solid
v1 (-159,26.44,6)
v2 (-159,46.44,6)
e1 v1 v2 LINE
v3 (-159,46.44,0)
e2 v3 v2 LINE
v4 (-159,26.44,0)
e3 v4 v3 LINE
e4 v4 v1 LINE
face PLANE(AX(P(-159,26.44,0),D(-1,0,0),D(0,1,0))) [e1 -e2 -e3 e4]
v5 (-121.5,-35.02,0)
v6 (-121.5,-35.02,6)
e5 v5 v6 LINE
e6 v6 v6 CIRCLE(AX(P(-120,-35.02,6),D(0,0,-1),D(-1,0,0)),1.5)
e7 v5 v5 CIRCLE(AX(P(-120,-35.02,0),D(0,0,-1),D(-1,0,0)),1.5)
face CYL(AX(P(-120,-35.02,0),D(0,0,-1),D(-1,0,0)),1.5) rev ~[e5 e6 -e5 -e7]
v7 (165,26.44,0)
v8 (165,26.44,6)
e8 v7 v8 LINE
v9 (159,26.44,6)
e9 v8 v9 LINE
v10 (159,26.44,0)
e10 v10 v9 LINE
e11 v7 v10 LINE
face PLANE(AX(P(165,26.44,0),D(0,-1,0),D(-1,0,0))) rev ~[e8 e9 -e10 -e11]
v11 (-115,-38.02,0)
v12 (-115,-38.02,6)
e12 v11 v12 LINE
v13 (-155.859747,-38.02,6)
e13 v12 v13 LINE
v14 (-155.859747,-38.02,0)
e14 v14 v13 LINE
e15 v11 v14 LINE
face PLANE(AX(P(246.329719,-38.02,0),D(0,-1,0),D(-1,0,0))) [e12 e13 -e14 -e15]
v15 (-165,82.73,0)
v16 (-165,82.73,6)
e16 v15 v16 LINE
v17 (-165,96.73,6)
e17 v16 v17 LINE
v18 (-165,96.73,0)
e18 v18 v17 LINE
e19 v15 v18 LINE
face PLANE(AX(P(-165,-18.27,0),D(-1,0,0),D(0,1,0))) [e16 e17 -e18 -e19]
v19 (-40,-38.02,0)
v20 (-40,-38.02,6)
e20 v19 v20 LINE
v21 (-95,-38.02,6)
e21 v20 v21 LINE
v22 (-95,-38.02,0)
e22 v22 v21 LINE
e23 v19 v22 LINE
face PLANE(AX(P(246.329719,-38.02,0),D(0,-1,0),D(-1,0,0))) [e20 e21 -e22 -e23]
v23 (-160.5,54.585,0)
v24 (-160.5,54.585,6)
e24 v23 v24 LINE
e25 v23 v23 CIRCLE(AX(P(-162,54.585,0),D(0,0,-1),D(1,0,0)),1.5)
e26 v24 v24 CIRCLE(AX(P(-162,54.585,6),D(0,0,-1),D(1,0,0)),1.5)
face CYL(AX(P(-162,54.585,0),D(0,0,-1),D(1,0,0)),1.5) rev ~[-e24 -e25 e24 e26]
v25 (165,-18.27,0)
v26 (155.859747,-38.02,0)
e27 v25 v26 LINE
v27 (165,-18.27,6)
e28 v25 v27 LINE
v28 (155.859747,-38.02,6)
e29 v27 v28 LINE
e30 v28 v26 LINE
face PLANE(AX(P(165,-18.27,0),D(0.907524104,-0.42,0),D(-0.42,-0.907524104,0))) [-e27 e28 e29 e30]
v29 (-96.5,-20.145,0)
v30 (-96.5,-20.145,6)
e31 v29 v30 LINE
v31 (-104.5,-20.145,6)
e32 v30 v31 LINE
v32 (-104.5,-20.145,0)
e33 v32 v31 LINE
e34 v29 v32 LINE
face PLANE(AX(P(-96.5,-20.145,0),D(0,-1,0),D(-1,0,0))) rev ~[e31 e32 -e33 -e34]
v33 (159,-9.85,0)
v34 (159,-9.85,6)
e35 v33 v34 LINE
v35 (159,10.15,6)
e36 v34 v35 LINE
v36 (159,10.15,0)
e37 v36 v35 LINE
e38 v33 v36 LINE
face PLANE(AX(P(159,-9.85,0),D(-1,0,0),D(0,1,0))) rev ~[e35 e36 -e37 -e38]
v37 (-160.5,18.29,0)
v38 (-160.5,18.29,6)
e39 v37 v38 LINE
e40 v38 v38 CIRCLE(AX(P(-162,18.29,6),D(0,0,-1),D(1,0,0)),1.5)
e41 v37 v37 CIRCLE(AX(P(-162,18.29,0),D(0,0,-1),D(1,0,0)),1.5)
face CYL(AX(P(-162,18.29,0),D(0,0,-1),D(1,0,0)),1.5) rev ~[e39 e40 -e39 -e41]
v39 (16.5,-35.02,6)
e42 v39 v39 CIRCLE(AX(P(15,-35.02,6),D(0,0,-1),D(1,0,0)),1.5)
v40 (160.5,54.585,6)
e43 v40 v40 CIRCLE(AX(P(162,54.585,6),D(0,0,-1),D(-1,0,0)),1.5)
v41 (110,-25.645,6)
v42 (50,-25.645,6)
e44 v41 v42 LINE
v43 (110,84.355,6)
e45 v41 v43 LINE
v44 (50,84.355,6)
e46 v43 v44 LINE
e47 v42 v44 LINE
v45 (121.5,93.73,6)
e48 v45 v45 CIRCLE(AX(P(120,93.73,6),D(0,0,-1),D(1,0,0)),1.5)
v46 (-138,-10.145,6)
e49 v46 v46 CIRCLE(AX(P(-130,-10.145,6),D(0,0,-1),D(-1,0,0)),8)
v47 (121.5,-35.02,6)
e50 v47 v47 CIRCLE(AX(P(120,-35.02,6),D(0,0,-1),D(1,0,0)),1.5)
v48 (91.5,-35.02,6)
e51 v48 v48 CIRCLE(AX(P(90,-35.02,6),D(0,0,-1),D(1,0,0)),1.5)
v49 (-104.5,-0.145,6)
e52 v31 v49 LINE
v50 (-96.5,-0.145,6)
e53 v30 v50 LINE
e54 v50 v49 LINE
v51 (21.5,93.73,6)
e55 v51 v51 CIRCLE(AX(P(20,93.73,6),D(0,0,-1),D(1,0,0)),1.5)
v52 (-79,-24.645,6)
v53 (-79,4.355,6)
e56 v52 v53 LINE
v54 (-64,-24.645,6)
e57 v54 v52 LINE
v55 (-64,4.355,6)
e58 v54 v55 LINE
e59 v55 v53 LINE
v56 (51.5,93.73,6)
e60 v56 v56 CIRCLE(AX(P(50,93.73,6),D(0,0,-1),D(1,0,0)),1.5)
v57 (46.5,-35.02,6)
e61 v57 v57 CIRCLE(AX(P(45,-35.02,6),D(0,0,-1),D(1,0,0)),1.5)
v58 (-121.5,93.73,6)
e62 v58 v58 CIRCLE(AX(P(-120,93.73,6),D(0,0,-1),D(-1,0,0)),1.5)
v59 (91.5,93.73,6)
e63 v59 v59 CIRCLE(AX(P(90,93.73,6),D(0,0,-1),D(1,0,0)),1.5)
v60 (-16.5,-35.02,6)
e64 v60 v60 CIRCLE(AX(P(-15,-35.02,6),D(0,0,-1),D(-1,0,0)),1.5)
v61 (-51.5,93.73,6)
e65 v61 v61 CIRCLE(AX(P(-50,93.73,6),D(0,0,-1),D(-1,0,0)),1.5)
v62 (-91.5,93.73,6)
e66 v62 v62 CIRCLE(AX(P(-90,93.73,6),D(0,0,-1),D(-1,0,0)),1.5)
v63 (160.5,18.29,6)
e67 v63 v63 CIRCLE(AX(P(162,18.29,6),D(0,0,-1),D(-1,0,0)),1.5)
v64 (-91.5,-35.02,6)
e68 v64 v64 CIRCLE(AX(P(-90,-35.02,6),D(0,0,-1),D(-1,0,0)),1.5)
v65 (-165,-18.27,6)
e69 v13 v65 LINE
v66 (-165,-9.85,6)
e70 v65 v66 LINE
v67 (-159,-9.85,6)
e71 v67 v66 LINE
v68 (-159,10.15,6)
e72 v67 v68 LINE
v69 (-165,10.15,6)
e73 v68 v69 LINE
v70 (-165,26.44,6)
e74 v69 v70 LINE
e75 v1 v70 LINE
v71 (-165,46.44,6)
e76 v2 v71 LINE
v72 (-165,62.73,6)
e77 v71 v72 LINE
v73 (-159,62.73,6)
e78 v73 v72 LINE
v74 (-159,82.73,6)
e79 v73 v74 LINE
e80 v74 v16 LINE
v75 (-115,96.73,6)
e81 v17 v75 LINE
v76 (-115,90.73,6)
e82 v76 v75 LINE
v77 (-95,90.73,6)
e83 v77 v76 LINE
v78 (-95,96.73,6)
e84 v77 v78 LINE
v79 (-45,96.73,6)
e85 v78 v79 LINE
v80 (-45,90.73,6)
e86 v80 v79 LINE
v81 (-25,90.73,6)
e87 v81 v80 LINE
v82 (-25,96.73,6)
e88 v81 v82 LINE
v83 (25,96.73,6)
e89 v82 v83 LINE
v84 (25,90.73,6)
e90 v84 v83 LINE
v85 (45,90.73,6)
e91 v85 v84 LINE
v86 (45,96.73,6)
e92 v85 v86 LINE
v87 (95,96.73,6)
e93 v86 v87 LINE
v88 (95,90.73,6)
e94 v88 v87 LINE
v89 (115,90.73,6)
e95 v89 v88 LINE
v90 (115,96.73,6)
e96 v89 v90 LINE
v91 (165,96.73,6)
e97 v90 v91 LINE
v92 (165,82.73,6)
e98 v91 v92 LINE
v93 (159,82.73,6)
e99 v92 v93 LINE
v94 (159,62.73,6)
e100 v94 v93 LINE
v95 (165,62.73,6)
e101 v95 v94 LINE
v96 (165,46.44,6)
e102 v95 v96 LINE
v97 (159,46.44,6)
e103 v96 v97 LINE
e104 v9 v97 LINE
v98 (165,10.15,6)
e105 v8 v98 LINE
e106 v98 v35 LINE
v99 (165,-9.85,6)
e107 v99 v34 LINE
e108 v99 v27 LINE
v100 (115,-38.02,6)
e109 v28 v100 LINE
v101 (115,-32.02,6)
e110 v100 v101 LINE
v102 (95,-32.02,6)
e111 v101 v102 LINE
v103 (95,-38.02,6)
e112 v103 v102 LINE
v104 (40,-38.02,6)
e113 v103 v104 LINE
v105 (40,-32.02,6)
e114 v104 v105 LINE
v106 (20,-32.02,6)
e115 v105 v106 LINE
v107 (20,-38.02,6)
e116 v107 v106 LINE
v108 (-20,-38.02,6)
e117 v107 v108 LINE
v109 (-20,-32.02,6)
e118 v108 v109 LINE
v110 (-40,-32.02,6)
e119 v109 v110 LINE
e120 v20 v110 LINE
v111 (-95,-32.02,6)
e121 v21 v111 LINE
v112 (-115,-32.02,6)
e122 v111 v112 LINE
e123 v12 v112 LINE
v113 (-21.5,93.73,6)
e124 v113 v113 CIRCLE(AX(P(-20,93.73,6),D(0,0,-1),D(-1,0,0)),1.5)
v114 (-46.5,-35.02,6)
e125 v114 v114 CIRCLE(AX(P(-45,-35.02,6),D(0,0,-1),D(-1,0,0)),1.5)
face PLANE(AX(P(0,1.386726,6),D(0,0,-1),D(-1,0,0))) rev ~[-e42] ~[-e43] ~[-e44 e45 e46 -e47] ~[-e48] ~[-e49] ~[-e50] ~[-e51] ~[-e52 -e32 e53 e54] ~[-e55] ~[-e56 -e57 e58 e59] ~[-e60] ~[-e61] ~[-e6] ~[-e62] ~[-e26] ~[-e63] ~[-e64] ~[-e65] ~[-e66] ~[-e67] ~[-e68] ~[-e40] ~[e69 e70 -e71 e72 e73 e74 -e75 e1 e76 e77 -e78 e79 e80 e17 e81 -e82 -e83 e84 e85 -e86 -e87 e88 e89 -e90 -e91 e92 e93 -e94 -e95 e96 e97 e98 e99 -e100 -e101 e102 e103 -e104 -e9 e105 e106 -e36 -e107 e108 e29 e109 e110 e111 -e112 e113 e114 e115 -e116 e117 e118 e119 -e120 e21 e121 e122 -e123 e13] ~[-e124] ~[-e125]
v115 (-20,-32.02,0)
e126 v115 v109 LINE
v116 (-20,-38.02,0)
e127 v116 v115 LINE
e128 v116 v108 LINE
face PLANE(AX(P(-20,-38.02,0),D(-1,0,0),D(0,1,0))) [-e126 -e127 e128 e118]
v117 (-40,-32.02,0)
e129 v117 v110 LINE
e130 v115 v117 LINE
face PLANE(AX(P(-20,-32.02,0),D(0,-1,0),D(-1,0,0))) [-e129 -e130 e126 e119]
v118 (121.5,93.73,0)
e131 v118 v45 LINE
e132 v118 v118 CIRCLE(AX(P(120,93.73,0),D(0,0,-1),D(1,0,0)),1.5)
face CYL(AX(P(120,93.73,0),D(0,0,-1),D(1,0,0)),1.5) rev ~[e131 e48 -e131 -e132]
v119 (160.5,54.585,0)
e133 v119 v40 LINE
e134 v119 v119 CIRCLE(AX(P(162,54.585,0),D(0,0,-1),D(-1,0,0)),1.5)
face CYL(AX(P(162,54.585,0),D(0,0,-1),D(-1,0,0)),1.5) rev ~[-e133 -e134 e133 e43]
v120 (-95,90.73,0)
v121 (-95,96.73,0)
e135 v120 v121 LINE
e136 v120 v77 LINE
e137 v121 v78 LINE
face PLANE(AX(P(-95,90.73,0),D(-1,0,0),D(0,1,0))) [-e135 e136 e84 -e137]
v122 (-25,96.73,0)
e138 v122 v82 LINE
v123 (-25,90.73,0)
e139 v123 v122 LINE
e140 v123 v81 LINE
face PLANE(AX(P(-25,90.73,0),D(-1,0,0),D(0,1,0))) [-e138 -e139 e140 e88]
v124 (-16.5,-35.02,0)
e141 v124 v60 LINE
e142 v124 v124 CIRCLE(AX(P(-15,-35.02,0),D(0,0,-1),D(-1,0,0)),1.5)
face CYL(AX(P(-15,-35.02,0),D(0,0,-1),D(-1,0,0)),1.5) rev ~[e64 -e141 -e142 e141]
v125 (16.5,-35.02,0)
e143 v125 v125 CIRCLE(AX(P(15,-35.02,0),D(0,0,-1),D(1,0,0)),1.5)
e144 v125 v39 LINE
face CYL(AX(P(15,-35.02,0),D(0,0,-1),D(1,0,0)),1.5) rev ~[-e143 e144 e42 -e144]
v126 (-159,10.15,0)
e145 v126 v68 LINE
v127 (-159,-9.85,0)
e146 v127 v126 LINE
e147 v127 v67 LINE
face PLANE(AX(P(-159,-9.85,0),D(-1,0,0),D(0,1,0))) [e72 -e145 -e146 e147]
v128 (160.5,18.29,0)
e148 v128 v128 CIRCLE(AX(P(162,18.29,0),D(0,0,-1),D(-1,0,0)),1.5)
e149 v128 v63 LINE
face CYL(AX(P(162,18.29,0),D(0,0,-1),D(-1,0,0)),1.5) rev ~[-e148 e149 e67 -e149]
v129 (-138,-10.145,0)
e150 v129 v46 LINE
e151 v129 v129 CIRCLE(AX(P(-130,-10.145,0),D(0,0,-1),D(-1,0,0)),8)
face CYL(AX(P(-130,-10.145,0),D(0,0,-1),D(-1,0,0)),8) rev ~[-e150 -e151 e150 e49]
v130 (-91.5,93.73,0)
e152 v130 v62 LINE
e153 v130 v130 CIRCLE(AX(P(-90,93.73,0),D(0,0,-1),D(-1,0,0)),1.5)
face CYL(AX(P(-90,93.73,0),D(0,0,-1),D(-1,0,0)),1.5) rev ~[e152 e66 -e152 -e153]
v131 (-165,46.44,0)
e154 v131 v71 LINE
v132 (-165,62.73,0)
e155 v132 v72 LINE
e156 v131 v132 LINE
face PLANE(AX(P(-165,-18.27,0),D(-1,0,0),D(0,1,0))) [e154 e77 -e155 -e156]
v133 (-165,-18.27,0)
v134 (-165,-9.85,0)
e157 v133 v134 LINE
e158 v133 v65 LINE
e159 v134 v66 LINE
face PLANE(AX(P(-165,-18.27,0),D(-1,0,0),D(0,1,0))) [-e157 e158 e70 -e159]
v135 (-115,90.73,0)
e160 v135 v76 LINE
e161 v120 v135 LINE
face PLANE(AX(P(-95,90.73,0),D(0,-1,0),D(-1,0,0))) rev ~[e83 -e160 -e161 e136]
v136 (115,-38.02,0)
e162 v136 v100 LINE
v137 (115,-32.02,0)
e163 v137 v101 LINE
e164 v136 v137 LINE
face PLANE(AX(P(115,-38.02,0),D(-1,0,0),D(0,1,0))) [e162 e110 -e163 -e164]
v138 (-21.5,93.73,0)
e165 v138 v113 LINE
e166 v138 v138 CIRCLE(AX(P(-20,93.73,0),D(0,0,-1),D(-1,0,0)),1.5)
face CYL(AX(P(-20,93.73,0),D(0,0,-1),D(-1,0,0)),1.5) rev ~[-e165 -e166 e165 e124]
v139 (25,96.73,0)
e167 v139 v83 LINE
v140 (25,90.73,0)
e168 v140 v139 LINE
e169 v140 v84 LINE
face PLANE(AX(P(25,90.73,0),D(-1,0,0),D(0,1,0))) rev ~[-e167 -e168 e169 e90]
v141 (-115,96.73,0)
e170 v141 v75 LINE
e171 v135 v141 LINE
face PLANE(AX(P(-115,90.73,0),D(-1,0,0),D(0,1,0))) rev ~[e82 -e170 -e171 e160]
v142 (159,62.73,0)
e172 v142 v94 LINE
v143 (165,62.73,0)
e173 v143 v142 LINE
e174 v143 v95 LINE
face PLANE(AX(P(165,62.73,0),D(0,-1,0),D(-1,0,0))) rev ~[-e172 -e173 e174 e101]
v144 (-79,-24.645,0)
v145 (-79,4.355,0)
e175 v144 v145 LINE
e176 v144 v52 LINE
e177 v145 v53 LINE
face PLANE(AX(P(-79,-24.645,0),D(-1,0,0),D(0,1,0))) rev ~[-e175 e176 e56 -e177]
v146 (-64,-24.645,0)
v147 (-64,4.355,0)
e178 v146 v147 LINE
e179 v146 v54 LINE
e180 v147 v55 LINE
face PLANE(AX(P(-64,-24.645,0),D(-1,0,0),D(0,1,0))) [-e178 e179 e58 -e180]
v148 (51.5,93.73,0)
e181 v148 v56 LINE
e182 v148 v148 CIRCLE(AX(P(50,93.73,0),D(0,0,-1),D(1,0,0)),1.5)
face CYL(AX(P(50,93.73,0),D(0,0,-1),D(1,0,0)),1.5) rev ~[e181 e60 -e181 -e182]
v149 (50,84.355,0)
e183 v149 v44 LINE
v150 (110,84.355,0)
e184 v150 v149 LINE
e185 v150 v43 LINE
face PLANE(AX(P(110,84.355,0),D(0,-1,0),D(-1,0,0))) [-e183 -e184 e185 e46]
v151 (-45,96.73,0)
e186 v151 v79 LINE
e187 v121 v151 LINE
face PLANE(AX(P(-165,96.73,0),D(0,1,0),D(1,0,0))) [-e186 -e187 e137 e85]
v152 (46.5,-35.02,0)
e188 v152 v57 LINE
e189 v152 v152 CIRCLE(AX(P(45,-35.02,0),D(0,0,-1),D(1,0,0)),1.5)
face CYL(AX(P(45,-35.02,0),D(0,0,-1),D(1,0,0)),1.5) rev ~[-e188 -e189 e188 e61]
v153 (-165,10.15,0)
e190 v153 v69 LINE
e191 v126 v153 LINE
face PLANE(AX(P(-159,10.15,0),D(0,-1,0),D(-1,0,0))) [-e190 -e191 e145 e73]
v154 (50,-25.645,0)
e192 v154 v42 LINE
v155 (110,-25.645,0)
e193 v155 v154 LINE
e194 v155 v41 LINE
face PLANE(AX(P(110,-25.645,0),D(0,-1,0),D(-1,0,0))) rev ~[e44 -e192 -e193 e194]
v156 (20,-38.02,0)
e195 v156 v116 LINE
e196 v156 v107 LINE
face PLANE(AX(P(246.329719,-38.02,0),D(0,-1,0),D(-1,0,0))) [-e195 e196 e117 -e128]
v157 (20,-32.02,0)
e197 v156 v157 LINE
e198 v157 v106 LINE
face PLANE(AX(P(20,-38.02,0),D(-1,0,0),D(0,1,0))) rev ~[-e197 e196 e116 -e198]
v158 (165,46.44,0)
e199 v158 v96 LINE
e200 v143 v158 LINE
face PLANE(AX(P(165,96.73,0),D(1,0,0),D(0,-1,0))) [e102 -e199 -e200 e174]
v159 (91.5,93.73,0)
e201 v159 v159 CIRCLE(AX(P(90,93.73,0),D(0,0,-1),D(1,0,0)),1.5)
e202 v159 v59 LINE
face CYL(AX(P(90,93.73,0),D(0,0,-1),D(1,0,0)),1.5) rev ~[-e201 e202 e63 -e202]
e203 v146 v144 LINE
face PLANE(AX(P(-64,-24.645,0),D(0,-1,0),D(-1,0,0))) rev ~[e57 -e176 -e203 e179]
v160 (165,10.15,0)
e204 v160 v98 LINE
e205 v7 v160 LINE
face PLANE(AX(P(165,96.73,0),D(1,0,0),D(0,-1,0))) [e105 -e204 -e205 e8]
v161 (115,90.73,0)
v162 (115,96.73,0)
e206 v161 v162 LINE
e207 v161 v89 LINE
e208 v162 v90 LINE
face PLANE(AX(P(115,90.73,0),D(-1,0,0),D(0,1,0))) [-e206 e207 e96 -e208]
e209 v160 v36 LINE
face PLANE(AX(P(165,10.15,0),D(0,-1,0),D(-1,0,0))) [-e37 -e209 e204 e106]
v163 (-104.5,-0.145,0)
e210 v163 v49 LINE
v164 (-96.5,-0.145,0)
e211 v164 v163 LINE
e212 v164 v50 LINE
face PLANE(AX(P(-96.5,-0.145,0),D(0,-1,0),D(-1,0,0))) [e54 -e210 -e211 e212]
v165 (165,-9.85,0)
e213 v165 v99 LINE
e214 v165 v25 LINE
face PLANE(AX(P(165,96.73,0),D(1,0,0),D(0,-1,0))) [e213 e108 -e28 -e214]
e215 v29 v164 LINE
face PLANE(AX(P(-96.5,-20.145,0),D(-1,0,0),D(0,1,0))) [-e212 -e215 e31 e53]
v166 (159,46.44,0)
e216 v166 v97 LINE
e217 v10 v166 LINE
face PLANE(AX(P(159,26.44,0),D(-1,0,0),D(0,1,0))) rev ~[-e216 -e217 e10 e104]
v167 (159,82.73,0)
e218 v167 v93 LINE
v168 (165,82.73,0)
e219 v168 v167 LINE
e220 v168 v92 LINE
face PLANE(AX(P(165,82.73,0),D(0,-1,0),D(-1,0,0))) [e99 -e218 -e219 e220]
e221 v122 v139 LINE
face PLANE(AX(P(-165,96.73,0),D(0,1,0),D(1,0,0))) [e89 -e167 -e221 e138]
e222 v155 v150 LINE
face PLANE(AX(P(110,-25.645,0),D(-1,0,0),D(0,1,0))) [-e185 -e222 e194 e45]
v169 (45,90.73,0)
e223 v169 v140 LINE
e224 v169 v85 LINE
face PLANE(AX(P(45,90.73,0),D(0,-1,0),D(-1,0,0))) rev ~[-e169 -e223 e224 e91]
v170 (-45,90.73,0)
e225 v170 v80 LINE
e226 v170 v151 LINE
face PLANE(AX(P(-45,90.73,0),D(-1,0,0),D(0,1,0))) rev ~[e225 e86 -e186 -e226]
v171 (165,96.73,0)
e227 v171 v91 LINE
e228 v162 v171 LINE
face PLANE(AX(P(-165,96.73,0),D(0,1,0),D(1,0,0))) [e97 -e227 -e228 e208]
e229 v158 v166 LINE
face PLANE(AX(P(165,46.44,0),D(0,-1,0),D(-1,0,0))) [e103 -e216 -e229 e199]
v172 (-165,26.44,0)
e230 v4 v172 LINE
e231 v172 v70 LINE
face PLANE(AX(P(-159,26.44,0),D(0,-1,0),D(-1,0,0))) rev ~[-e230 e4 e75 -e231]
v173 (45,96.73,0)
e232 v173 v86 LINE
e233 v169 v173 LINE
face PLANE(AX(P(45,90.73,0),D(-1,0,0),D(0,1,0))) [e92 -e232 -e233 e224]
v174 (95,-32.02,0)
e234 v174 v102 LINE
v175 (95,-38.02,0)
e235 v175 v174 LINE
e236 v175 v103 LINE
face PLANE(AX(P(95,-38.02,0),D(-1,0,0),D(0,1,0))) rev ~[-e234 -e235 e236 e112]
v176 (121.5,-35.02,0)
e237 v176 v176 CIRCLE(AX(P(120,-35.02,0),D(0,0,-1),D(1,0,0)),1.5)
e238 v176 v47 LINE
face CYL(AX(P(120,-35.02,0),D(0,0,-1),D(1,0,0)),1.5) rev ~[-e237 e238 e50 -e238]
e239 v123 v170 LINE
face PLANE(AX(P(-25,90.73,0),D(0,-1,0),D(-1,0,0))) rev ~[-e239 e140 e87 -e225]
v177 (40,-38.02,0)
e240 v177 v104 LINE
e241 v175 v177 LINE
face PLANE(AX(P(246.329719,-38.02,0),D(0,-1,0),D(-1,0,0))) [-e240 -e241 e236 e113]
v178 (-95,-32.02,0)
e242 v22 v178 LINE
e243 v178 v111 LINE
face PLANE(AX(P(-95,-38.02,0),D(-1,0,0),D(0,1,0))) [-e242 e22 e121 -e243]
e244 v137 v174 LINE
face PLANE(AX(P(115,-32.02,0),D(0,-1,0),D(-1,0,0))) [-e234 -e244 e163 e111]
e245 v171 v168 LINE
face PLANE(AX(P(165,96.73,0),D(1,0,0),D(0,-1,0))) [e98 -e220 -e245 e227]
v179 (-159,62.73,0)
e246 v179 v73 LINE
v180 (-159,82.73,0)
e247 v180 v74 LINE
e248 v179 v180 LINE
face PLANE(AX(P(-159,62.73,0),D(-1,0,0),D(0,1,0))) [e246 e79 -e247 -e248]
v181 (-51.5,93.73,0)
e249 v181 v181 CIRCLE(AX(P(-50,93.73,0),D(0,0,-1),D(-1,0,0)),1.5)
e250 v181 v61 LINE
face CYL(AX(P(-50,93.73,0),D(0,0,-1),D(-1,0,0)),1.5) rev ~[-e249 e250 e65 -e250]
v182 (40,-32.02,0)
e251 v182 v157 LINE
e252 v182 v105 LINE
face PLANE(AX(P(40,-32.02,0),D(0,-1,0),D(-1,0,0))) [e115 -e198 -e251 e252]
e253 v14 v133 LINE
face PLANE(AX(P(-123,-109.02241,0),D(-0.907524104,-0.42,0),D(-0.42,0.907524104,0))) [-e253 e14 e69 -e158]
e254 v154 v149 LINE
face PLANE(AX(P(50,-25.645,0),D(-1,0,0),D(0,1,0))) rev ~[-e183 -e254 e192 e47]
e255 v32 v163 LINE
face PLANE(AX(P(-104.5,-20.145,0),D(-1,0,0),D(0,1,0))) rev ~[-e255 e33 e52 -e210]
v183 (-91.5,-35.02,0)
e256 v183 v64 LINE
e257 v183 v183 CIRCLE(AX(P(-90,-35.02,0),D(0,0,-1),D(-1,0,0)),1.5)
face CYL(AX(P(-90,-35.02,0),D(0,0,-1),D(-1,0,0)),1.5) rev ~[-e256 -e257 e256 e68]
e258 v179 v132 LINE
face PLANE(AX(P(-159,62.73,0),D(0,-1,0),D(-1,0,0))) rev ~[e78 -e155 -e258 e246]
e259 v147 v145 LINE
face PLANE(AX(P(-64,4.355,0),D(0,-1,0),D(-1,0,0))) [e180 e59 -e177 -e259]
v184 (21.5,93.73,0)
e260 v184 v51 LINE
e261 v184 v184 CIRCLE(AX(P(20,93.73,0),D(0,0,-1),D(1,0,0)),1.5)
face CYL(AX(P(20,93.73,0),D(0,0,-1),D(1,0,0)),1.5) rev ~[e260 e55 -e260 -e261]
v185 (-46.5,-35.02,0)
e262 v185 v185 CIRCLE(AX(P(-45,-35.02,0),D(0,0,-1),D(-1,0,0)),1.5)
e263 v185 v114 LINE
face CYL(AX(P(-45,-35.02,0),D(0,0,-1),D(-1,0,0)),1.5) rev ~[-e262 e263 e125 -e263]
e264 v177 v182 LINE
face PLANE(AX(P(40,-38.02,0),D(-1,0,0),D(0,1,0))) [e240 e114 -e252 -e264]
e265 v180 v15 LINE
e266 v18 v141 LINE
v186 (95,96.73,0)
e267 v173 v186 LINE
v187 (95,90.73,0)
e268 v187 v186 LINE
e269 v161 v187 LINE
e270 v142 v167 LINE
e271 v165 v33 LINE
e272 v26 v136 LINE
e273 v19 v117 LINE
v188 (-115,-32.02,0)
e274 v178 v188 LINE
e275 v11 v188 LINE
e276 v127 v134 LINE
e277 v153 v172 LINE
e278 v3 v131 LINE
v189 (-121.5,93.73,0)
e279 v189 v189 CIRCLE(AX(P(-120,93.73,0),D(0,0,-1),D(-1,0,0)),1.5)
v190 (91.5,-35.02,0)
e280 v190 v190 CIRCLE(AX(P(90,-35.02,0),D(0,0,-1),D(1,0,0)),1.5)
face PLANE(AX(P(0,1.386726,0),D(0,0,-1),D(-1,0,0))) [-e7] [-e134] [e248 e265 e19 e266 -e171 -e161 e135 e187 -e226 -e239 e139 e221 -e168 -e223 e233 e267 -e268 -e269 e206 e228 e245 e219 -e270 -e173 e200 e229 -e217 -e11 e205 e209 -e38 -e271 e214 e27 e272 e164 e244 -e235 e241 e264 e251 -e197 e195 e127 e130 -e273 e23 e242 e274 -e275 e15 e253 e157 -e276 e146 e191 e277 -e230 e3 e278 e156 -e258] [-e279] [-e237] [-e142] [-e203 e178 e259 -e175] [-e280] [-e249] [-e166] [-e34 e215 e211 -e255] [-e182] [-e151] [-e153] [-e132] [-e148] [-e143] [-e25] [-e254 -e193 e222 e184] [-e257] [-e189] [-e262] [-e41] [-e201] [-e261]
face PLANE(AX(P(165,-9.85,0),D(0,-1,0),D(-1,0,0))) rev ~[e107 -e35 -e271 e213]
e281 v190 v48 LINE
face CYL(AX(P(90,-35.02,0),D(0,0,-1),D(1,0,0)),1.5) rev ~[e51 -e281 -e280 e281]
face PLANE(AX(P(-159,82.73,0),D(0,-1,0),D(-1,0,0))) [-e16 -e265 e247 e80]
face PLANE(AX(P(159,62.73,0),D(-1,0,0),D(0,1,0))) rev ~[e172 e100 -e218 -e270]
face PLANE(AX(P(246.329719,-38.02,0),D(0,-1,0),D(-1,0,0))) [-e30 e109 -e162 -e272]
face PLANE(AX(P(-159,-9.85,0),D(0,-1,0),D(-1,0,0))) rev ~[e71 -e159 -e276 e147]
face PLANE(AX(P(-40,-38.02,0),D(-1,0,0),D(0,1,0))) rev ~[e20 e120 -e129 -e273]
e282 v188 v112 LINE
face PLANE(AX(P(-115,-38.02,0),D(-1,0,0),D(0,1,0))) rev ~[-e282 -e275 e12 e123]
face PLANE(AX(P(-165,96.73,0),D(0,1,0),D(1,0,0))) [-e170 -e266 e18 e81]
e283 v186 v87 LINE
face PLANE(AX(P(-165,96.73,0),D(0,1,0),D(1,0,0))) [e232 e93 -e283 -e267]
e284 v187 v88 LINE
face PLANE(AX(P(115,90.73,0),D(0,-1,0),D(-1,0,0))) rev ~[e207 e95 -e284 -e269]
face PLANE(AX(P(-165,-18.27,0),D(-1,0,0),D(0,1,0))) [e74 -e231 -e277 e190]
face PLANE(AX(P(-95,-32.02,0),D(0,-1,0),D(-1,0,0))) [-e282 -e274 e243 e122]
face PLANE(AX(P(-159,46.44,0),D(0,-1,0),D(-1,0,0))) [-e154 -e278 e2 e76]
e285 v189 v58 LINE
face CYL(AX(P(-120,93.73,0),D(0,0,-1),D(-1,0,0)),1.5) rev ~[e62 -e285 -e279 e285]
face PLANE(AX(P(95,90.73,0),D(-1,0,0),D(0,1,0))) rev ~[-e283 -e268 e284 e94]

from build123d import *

# Parameters (mm, degrees)
BOSS_EXTRU_1_DEPTH      = 6
ESQUISSE3_R             = 8
ESQUISSE3_W             = 6
ESQUISSE3_H             = 20
ESQUISSE3_W_2           = 20
ESQUISSE3_H_2           = 6
ESQUISSE3_W_3           = 60
ESQUISSE3_H_3           = 110
ESQUISSE3_W_4           = 8
ESQUISSE3_W_5           = 15
ESQUISSE3_H_4           = 29
ENL_V_MAT_EXTRU_2_DEPTH = 6
ESQUISSE4_R             = 1.5
ENL_V_MAT_EXTRU_3_DEPTH = 6
ESQUISSE5_W             = 456.045253014
ESQUISSE5_H             = 136.228984631
ENL_V_MAT_EXTRU_4_DEPTH = 6


with BuildPart() as part:
    # Esquisse1 → Boss.-Extru.1 (new body)
    with BuildSketch(Plane.XY):
        Polygon((-165, 96.73), (165, 96.73), (165, -18.27), (123, -109.022410436), (-123, -109.022410436), (-165, -18.27), align=None)
    extrude(amount=BOSS_EXTRU_1_DEPTH)

    # Esquisse3 → Enlèv. mat.-Extru.2 (cut)
    with BuildSketch(Plane(origin=(0, 0, 0), x_dir=(-1, 0, 0), z_dir=(0, 0, -1))):
        with Locations((130, -10.145)):
            Circle(ESQUISSE3_R)
        with Locations((162, 36.44)):
            Rectangle(ESQUISSE3_W, ESQUISSE3_H)
        with Locations((162, 72.73)):
            Rectangle(ESQUISSE3_W, ESQUISSE3_H)
        with Locations((162, 0.15)):
            Rectangle(ESQUISSE3_W, ESQUISSE3_H)
        with Locations((-30, -35.02)):
            Rectangle(ESQUISSE3_W_2, ESQUISSE3_H_2)
        with Locations((105, -35.02)):
            Rectangle(ESQUISSE3_W_2, ESQUISSE3_H_2)
        with Locations((-80, 29.355)):
            Rectangle(ESQUISSE3_W_3, ESQUISSE3_H_3)
        with Locations((-162, 72.73)):
            Rectangle(ESQUISSE3_W, ESQUISSE3_H)
        with Locations((30, -35.02)):
            Rectangle(ESQUISSE3_W_2, ESQUISSE3_H_2)
        with Locations((-162, 36.44)):
            Rectangle(ESQUISSE3_W, ESQUISSE3_H)
        with Locations((-162, 0.15)):
            Rectangle(ESQUISSE3_W, ESQUISSE3_H)
        with Locations((105, 93.73)):
            Rectangle(ESQUISSE3_W_2, ESQUISSE3_H_2)
        with Locations((-35, 93.73)):
            Rectangle(ESQUISSE3_W_2, ESQUISSE3_H_2)
        with Locations((35, 93.73)):
            Rectangle(ESQUISSE3_W_2, ESQUISSE3_H_2)
        with Locations((-105, 93.73)):
            Rectangle(ESQUISSE3_W_2, ESQUISSE3_H_2)
        with Locations((100.5, -10.145)):
            Rectangle(ESQUISSE3_W_4, ESQUISSE3_H)
        with Locations((-105, -35.02)):
            Rectangle(ESQUISSE3_W_2, ESQUISSE3_H_2)
        with Locations((71.5, -10.145)):
            Rectangle(ESQUISSE3_W_5, ESQUISSE3_H_4)
    extrude(amount=-ENL_V_MAT_EXTRU_2_DEPTH, mode=Mode.SUBTRACT)

    # Esquisse4 → Enlèv. mat.-Extru.3 (cut)
    with BuildSketch(Plane(origin=(0, 0, 0), x_dir=(-1, 0, 0), z_dir=(0, 0, -1))):
        with Locations(Location((162, 18.29, 0), (0, 0, 180))):
            Circle(ESQUISSE4_R)
        with Locations((120, -35.02)):
            Circle(ESQUISSE4_R)
        with Locations(Location((162, 54.585, 0), (0, 0, 180))):
            Circle(ESQUISSE4_R)
        with Locations((90, -35.02)):
            Circle(ESQUISSE4_R)
        with Locations((45, -35.02)):
            Circle(ESQUISSE4_R)
        with Locations((15, -35.02)):
            Circle(ESQUISSE4_R)
        with Locations(Location((-15, -35.02, 0), (0, 0, 180))):
            Circle(ESQUISSE4_R)
        with Locations(Location((-45, -35.02, 0), (0, 0, 180))):
            Circle(ESQUISSE4_R)
        with Locations(Location((-90, -35.02, 0), (0, 0, 180))):
            Circle(ESQUISSE4_R)
        with Locations((120, 93.73)):
            Circle(ESQUISSE4_R)
        with Locations(Location((-120, -35.02, 0), (0, 0, 180))):
            Circle(ESQUISSE4_R)
        with Locations((90, 93.73)):
            Circle(ESQUISSE4_R)
        with Locations((50, 93.73)):
            Circle(ESQUISSE4_R)
        with Locations((20, 93.73)):
            Circle(ESQUISSE4_R)
        with Locations((-162, 18.29)):
            Circle(ESQUISSE4_R)
        with Locations((-162, 54.585)):
            Circle(ESQUISSE4_R)
        with Locations(Location((-20, 93.73, 0), (0, 0, 180))):
            Circle(ESQUISSE4_R)
        with Locations(Location((-50, 93.73, 0), (0, 0, 180))):
            Circle(ESQUISSE4_R)
        with Locations(Location((-90, 93.73, 0), (0, 0, 180))):
            Circle(ESQUISSE4_R)
        with Locations(Location((-120, 93.73, 0), (0, 0, 180))):
            Circle(ESQUISSE4_R)
    extrude(amount=-ENL_V_MAT_EXTRU_3_DEPTH, mode=Mode.SUBTRACT)

    # Esquisse5 → Enlèv. mat.-Extru.4 (cut)
    with BuildSketch(Plane(origin=(0, 0, 0), x_dir=(-1, 0, 0), z_dir=(0, 0, -1))):
        with Locations((-18.307092018, -106.134492316)):
            Rectangle(ESQUISSE5_W, ESQUISSE5_H)
    extrude(amount=-ENL_V_MAT_EXTRU_4_DEPTH, mode=Mode.SUBTRACT)


solid = part.part
